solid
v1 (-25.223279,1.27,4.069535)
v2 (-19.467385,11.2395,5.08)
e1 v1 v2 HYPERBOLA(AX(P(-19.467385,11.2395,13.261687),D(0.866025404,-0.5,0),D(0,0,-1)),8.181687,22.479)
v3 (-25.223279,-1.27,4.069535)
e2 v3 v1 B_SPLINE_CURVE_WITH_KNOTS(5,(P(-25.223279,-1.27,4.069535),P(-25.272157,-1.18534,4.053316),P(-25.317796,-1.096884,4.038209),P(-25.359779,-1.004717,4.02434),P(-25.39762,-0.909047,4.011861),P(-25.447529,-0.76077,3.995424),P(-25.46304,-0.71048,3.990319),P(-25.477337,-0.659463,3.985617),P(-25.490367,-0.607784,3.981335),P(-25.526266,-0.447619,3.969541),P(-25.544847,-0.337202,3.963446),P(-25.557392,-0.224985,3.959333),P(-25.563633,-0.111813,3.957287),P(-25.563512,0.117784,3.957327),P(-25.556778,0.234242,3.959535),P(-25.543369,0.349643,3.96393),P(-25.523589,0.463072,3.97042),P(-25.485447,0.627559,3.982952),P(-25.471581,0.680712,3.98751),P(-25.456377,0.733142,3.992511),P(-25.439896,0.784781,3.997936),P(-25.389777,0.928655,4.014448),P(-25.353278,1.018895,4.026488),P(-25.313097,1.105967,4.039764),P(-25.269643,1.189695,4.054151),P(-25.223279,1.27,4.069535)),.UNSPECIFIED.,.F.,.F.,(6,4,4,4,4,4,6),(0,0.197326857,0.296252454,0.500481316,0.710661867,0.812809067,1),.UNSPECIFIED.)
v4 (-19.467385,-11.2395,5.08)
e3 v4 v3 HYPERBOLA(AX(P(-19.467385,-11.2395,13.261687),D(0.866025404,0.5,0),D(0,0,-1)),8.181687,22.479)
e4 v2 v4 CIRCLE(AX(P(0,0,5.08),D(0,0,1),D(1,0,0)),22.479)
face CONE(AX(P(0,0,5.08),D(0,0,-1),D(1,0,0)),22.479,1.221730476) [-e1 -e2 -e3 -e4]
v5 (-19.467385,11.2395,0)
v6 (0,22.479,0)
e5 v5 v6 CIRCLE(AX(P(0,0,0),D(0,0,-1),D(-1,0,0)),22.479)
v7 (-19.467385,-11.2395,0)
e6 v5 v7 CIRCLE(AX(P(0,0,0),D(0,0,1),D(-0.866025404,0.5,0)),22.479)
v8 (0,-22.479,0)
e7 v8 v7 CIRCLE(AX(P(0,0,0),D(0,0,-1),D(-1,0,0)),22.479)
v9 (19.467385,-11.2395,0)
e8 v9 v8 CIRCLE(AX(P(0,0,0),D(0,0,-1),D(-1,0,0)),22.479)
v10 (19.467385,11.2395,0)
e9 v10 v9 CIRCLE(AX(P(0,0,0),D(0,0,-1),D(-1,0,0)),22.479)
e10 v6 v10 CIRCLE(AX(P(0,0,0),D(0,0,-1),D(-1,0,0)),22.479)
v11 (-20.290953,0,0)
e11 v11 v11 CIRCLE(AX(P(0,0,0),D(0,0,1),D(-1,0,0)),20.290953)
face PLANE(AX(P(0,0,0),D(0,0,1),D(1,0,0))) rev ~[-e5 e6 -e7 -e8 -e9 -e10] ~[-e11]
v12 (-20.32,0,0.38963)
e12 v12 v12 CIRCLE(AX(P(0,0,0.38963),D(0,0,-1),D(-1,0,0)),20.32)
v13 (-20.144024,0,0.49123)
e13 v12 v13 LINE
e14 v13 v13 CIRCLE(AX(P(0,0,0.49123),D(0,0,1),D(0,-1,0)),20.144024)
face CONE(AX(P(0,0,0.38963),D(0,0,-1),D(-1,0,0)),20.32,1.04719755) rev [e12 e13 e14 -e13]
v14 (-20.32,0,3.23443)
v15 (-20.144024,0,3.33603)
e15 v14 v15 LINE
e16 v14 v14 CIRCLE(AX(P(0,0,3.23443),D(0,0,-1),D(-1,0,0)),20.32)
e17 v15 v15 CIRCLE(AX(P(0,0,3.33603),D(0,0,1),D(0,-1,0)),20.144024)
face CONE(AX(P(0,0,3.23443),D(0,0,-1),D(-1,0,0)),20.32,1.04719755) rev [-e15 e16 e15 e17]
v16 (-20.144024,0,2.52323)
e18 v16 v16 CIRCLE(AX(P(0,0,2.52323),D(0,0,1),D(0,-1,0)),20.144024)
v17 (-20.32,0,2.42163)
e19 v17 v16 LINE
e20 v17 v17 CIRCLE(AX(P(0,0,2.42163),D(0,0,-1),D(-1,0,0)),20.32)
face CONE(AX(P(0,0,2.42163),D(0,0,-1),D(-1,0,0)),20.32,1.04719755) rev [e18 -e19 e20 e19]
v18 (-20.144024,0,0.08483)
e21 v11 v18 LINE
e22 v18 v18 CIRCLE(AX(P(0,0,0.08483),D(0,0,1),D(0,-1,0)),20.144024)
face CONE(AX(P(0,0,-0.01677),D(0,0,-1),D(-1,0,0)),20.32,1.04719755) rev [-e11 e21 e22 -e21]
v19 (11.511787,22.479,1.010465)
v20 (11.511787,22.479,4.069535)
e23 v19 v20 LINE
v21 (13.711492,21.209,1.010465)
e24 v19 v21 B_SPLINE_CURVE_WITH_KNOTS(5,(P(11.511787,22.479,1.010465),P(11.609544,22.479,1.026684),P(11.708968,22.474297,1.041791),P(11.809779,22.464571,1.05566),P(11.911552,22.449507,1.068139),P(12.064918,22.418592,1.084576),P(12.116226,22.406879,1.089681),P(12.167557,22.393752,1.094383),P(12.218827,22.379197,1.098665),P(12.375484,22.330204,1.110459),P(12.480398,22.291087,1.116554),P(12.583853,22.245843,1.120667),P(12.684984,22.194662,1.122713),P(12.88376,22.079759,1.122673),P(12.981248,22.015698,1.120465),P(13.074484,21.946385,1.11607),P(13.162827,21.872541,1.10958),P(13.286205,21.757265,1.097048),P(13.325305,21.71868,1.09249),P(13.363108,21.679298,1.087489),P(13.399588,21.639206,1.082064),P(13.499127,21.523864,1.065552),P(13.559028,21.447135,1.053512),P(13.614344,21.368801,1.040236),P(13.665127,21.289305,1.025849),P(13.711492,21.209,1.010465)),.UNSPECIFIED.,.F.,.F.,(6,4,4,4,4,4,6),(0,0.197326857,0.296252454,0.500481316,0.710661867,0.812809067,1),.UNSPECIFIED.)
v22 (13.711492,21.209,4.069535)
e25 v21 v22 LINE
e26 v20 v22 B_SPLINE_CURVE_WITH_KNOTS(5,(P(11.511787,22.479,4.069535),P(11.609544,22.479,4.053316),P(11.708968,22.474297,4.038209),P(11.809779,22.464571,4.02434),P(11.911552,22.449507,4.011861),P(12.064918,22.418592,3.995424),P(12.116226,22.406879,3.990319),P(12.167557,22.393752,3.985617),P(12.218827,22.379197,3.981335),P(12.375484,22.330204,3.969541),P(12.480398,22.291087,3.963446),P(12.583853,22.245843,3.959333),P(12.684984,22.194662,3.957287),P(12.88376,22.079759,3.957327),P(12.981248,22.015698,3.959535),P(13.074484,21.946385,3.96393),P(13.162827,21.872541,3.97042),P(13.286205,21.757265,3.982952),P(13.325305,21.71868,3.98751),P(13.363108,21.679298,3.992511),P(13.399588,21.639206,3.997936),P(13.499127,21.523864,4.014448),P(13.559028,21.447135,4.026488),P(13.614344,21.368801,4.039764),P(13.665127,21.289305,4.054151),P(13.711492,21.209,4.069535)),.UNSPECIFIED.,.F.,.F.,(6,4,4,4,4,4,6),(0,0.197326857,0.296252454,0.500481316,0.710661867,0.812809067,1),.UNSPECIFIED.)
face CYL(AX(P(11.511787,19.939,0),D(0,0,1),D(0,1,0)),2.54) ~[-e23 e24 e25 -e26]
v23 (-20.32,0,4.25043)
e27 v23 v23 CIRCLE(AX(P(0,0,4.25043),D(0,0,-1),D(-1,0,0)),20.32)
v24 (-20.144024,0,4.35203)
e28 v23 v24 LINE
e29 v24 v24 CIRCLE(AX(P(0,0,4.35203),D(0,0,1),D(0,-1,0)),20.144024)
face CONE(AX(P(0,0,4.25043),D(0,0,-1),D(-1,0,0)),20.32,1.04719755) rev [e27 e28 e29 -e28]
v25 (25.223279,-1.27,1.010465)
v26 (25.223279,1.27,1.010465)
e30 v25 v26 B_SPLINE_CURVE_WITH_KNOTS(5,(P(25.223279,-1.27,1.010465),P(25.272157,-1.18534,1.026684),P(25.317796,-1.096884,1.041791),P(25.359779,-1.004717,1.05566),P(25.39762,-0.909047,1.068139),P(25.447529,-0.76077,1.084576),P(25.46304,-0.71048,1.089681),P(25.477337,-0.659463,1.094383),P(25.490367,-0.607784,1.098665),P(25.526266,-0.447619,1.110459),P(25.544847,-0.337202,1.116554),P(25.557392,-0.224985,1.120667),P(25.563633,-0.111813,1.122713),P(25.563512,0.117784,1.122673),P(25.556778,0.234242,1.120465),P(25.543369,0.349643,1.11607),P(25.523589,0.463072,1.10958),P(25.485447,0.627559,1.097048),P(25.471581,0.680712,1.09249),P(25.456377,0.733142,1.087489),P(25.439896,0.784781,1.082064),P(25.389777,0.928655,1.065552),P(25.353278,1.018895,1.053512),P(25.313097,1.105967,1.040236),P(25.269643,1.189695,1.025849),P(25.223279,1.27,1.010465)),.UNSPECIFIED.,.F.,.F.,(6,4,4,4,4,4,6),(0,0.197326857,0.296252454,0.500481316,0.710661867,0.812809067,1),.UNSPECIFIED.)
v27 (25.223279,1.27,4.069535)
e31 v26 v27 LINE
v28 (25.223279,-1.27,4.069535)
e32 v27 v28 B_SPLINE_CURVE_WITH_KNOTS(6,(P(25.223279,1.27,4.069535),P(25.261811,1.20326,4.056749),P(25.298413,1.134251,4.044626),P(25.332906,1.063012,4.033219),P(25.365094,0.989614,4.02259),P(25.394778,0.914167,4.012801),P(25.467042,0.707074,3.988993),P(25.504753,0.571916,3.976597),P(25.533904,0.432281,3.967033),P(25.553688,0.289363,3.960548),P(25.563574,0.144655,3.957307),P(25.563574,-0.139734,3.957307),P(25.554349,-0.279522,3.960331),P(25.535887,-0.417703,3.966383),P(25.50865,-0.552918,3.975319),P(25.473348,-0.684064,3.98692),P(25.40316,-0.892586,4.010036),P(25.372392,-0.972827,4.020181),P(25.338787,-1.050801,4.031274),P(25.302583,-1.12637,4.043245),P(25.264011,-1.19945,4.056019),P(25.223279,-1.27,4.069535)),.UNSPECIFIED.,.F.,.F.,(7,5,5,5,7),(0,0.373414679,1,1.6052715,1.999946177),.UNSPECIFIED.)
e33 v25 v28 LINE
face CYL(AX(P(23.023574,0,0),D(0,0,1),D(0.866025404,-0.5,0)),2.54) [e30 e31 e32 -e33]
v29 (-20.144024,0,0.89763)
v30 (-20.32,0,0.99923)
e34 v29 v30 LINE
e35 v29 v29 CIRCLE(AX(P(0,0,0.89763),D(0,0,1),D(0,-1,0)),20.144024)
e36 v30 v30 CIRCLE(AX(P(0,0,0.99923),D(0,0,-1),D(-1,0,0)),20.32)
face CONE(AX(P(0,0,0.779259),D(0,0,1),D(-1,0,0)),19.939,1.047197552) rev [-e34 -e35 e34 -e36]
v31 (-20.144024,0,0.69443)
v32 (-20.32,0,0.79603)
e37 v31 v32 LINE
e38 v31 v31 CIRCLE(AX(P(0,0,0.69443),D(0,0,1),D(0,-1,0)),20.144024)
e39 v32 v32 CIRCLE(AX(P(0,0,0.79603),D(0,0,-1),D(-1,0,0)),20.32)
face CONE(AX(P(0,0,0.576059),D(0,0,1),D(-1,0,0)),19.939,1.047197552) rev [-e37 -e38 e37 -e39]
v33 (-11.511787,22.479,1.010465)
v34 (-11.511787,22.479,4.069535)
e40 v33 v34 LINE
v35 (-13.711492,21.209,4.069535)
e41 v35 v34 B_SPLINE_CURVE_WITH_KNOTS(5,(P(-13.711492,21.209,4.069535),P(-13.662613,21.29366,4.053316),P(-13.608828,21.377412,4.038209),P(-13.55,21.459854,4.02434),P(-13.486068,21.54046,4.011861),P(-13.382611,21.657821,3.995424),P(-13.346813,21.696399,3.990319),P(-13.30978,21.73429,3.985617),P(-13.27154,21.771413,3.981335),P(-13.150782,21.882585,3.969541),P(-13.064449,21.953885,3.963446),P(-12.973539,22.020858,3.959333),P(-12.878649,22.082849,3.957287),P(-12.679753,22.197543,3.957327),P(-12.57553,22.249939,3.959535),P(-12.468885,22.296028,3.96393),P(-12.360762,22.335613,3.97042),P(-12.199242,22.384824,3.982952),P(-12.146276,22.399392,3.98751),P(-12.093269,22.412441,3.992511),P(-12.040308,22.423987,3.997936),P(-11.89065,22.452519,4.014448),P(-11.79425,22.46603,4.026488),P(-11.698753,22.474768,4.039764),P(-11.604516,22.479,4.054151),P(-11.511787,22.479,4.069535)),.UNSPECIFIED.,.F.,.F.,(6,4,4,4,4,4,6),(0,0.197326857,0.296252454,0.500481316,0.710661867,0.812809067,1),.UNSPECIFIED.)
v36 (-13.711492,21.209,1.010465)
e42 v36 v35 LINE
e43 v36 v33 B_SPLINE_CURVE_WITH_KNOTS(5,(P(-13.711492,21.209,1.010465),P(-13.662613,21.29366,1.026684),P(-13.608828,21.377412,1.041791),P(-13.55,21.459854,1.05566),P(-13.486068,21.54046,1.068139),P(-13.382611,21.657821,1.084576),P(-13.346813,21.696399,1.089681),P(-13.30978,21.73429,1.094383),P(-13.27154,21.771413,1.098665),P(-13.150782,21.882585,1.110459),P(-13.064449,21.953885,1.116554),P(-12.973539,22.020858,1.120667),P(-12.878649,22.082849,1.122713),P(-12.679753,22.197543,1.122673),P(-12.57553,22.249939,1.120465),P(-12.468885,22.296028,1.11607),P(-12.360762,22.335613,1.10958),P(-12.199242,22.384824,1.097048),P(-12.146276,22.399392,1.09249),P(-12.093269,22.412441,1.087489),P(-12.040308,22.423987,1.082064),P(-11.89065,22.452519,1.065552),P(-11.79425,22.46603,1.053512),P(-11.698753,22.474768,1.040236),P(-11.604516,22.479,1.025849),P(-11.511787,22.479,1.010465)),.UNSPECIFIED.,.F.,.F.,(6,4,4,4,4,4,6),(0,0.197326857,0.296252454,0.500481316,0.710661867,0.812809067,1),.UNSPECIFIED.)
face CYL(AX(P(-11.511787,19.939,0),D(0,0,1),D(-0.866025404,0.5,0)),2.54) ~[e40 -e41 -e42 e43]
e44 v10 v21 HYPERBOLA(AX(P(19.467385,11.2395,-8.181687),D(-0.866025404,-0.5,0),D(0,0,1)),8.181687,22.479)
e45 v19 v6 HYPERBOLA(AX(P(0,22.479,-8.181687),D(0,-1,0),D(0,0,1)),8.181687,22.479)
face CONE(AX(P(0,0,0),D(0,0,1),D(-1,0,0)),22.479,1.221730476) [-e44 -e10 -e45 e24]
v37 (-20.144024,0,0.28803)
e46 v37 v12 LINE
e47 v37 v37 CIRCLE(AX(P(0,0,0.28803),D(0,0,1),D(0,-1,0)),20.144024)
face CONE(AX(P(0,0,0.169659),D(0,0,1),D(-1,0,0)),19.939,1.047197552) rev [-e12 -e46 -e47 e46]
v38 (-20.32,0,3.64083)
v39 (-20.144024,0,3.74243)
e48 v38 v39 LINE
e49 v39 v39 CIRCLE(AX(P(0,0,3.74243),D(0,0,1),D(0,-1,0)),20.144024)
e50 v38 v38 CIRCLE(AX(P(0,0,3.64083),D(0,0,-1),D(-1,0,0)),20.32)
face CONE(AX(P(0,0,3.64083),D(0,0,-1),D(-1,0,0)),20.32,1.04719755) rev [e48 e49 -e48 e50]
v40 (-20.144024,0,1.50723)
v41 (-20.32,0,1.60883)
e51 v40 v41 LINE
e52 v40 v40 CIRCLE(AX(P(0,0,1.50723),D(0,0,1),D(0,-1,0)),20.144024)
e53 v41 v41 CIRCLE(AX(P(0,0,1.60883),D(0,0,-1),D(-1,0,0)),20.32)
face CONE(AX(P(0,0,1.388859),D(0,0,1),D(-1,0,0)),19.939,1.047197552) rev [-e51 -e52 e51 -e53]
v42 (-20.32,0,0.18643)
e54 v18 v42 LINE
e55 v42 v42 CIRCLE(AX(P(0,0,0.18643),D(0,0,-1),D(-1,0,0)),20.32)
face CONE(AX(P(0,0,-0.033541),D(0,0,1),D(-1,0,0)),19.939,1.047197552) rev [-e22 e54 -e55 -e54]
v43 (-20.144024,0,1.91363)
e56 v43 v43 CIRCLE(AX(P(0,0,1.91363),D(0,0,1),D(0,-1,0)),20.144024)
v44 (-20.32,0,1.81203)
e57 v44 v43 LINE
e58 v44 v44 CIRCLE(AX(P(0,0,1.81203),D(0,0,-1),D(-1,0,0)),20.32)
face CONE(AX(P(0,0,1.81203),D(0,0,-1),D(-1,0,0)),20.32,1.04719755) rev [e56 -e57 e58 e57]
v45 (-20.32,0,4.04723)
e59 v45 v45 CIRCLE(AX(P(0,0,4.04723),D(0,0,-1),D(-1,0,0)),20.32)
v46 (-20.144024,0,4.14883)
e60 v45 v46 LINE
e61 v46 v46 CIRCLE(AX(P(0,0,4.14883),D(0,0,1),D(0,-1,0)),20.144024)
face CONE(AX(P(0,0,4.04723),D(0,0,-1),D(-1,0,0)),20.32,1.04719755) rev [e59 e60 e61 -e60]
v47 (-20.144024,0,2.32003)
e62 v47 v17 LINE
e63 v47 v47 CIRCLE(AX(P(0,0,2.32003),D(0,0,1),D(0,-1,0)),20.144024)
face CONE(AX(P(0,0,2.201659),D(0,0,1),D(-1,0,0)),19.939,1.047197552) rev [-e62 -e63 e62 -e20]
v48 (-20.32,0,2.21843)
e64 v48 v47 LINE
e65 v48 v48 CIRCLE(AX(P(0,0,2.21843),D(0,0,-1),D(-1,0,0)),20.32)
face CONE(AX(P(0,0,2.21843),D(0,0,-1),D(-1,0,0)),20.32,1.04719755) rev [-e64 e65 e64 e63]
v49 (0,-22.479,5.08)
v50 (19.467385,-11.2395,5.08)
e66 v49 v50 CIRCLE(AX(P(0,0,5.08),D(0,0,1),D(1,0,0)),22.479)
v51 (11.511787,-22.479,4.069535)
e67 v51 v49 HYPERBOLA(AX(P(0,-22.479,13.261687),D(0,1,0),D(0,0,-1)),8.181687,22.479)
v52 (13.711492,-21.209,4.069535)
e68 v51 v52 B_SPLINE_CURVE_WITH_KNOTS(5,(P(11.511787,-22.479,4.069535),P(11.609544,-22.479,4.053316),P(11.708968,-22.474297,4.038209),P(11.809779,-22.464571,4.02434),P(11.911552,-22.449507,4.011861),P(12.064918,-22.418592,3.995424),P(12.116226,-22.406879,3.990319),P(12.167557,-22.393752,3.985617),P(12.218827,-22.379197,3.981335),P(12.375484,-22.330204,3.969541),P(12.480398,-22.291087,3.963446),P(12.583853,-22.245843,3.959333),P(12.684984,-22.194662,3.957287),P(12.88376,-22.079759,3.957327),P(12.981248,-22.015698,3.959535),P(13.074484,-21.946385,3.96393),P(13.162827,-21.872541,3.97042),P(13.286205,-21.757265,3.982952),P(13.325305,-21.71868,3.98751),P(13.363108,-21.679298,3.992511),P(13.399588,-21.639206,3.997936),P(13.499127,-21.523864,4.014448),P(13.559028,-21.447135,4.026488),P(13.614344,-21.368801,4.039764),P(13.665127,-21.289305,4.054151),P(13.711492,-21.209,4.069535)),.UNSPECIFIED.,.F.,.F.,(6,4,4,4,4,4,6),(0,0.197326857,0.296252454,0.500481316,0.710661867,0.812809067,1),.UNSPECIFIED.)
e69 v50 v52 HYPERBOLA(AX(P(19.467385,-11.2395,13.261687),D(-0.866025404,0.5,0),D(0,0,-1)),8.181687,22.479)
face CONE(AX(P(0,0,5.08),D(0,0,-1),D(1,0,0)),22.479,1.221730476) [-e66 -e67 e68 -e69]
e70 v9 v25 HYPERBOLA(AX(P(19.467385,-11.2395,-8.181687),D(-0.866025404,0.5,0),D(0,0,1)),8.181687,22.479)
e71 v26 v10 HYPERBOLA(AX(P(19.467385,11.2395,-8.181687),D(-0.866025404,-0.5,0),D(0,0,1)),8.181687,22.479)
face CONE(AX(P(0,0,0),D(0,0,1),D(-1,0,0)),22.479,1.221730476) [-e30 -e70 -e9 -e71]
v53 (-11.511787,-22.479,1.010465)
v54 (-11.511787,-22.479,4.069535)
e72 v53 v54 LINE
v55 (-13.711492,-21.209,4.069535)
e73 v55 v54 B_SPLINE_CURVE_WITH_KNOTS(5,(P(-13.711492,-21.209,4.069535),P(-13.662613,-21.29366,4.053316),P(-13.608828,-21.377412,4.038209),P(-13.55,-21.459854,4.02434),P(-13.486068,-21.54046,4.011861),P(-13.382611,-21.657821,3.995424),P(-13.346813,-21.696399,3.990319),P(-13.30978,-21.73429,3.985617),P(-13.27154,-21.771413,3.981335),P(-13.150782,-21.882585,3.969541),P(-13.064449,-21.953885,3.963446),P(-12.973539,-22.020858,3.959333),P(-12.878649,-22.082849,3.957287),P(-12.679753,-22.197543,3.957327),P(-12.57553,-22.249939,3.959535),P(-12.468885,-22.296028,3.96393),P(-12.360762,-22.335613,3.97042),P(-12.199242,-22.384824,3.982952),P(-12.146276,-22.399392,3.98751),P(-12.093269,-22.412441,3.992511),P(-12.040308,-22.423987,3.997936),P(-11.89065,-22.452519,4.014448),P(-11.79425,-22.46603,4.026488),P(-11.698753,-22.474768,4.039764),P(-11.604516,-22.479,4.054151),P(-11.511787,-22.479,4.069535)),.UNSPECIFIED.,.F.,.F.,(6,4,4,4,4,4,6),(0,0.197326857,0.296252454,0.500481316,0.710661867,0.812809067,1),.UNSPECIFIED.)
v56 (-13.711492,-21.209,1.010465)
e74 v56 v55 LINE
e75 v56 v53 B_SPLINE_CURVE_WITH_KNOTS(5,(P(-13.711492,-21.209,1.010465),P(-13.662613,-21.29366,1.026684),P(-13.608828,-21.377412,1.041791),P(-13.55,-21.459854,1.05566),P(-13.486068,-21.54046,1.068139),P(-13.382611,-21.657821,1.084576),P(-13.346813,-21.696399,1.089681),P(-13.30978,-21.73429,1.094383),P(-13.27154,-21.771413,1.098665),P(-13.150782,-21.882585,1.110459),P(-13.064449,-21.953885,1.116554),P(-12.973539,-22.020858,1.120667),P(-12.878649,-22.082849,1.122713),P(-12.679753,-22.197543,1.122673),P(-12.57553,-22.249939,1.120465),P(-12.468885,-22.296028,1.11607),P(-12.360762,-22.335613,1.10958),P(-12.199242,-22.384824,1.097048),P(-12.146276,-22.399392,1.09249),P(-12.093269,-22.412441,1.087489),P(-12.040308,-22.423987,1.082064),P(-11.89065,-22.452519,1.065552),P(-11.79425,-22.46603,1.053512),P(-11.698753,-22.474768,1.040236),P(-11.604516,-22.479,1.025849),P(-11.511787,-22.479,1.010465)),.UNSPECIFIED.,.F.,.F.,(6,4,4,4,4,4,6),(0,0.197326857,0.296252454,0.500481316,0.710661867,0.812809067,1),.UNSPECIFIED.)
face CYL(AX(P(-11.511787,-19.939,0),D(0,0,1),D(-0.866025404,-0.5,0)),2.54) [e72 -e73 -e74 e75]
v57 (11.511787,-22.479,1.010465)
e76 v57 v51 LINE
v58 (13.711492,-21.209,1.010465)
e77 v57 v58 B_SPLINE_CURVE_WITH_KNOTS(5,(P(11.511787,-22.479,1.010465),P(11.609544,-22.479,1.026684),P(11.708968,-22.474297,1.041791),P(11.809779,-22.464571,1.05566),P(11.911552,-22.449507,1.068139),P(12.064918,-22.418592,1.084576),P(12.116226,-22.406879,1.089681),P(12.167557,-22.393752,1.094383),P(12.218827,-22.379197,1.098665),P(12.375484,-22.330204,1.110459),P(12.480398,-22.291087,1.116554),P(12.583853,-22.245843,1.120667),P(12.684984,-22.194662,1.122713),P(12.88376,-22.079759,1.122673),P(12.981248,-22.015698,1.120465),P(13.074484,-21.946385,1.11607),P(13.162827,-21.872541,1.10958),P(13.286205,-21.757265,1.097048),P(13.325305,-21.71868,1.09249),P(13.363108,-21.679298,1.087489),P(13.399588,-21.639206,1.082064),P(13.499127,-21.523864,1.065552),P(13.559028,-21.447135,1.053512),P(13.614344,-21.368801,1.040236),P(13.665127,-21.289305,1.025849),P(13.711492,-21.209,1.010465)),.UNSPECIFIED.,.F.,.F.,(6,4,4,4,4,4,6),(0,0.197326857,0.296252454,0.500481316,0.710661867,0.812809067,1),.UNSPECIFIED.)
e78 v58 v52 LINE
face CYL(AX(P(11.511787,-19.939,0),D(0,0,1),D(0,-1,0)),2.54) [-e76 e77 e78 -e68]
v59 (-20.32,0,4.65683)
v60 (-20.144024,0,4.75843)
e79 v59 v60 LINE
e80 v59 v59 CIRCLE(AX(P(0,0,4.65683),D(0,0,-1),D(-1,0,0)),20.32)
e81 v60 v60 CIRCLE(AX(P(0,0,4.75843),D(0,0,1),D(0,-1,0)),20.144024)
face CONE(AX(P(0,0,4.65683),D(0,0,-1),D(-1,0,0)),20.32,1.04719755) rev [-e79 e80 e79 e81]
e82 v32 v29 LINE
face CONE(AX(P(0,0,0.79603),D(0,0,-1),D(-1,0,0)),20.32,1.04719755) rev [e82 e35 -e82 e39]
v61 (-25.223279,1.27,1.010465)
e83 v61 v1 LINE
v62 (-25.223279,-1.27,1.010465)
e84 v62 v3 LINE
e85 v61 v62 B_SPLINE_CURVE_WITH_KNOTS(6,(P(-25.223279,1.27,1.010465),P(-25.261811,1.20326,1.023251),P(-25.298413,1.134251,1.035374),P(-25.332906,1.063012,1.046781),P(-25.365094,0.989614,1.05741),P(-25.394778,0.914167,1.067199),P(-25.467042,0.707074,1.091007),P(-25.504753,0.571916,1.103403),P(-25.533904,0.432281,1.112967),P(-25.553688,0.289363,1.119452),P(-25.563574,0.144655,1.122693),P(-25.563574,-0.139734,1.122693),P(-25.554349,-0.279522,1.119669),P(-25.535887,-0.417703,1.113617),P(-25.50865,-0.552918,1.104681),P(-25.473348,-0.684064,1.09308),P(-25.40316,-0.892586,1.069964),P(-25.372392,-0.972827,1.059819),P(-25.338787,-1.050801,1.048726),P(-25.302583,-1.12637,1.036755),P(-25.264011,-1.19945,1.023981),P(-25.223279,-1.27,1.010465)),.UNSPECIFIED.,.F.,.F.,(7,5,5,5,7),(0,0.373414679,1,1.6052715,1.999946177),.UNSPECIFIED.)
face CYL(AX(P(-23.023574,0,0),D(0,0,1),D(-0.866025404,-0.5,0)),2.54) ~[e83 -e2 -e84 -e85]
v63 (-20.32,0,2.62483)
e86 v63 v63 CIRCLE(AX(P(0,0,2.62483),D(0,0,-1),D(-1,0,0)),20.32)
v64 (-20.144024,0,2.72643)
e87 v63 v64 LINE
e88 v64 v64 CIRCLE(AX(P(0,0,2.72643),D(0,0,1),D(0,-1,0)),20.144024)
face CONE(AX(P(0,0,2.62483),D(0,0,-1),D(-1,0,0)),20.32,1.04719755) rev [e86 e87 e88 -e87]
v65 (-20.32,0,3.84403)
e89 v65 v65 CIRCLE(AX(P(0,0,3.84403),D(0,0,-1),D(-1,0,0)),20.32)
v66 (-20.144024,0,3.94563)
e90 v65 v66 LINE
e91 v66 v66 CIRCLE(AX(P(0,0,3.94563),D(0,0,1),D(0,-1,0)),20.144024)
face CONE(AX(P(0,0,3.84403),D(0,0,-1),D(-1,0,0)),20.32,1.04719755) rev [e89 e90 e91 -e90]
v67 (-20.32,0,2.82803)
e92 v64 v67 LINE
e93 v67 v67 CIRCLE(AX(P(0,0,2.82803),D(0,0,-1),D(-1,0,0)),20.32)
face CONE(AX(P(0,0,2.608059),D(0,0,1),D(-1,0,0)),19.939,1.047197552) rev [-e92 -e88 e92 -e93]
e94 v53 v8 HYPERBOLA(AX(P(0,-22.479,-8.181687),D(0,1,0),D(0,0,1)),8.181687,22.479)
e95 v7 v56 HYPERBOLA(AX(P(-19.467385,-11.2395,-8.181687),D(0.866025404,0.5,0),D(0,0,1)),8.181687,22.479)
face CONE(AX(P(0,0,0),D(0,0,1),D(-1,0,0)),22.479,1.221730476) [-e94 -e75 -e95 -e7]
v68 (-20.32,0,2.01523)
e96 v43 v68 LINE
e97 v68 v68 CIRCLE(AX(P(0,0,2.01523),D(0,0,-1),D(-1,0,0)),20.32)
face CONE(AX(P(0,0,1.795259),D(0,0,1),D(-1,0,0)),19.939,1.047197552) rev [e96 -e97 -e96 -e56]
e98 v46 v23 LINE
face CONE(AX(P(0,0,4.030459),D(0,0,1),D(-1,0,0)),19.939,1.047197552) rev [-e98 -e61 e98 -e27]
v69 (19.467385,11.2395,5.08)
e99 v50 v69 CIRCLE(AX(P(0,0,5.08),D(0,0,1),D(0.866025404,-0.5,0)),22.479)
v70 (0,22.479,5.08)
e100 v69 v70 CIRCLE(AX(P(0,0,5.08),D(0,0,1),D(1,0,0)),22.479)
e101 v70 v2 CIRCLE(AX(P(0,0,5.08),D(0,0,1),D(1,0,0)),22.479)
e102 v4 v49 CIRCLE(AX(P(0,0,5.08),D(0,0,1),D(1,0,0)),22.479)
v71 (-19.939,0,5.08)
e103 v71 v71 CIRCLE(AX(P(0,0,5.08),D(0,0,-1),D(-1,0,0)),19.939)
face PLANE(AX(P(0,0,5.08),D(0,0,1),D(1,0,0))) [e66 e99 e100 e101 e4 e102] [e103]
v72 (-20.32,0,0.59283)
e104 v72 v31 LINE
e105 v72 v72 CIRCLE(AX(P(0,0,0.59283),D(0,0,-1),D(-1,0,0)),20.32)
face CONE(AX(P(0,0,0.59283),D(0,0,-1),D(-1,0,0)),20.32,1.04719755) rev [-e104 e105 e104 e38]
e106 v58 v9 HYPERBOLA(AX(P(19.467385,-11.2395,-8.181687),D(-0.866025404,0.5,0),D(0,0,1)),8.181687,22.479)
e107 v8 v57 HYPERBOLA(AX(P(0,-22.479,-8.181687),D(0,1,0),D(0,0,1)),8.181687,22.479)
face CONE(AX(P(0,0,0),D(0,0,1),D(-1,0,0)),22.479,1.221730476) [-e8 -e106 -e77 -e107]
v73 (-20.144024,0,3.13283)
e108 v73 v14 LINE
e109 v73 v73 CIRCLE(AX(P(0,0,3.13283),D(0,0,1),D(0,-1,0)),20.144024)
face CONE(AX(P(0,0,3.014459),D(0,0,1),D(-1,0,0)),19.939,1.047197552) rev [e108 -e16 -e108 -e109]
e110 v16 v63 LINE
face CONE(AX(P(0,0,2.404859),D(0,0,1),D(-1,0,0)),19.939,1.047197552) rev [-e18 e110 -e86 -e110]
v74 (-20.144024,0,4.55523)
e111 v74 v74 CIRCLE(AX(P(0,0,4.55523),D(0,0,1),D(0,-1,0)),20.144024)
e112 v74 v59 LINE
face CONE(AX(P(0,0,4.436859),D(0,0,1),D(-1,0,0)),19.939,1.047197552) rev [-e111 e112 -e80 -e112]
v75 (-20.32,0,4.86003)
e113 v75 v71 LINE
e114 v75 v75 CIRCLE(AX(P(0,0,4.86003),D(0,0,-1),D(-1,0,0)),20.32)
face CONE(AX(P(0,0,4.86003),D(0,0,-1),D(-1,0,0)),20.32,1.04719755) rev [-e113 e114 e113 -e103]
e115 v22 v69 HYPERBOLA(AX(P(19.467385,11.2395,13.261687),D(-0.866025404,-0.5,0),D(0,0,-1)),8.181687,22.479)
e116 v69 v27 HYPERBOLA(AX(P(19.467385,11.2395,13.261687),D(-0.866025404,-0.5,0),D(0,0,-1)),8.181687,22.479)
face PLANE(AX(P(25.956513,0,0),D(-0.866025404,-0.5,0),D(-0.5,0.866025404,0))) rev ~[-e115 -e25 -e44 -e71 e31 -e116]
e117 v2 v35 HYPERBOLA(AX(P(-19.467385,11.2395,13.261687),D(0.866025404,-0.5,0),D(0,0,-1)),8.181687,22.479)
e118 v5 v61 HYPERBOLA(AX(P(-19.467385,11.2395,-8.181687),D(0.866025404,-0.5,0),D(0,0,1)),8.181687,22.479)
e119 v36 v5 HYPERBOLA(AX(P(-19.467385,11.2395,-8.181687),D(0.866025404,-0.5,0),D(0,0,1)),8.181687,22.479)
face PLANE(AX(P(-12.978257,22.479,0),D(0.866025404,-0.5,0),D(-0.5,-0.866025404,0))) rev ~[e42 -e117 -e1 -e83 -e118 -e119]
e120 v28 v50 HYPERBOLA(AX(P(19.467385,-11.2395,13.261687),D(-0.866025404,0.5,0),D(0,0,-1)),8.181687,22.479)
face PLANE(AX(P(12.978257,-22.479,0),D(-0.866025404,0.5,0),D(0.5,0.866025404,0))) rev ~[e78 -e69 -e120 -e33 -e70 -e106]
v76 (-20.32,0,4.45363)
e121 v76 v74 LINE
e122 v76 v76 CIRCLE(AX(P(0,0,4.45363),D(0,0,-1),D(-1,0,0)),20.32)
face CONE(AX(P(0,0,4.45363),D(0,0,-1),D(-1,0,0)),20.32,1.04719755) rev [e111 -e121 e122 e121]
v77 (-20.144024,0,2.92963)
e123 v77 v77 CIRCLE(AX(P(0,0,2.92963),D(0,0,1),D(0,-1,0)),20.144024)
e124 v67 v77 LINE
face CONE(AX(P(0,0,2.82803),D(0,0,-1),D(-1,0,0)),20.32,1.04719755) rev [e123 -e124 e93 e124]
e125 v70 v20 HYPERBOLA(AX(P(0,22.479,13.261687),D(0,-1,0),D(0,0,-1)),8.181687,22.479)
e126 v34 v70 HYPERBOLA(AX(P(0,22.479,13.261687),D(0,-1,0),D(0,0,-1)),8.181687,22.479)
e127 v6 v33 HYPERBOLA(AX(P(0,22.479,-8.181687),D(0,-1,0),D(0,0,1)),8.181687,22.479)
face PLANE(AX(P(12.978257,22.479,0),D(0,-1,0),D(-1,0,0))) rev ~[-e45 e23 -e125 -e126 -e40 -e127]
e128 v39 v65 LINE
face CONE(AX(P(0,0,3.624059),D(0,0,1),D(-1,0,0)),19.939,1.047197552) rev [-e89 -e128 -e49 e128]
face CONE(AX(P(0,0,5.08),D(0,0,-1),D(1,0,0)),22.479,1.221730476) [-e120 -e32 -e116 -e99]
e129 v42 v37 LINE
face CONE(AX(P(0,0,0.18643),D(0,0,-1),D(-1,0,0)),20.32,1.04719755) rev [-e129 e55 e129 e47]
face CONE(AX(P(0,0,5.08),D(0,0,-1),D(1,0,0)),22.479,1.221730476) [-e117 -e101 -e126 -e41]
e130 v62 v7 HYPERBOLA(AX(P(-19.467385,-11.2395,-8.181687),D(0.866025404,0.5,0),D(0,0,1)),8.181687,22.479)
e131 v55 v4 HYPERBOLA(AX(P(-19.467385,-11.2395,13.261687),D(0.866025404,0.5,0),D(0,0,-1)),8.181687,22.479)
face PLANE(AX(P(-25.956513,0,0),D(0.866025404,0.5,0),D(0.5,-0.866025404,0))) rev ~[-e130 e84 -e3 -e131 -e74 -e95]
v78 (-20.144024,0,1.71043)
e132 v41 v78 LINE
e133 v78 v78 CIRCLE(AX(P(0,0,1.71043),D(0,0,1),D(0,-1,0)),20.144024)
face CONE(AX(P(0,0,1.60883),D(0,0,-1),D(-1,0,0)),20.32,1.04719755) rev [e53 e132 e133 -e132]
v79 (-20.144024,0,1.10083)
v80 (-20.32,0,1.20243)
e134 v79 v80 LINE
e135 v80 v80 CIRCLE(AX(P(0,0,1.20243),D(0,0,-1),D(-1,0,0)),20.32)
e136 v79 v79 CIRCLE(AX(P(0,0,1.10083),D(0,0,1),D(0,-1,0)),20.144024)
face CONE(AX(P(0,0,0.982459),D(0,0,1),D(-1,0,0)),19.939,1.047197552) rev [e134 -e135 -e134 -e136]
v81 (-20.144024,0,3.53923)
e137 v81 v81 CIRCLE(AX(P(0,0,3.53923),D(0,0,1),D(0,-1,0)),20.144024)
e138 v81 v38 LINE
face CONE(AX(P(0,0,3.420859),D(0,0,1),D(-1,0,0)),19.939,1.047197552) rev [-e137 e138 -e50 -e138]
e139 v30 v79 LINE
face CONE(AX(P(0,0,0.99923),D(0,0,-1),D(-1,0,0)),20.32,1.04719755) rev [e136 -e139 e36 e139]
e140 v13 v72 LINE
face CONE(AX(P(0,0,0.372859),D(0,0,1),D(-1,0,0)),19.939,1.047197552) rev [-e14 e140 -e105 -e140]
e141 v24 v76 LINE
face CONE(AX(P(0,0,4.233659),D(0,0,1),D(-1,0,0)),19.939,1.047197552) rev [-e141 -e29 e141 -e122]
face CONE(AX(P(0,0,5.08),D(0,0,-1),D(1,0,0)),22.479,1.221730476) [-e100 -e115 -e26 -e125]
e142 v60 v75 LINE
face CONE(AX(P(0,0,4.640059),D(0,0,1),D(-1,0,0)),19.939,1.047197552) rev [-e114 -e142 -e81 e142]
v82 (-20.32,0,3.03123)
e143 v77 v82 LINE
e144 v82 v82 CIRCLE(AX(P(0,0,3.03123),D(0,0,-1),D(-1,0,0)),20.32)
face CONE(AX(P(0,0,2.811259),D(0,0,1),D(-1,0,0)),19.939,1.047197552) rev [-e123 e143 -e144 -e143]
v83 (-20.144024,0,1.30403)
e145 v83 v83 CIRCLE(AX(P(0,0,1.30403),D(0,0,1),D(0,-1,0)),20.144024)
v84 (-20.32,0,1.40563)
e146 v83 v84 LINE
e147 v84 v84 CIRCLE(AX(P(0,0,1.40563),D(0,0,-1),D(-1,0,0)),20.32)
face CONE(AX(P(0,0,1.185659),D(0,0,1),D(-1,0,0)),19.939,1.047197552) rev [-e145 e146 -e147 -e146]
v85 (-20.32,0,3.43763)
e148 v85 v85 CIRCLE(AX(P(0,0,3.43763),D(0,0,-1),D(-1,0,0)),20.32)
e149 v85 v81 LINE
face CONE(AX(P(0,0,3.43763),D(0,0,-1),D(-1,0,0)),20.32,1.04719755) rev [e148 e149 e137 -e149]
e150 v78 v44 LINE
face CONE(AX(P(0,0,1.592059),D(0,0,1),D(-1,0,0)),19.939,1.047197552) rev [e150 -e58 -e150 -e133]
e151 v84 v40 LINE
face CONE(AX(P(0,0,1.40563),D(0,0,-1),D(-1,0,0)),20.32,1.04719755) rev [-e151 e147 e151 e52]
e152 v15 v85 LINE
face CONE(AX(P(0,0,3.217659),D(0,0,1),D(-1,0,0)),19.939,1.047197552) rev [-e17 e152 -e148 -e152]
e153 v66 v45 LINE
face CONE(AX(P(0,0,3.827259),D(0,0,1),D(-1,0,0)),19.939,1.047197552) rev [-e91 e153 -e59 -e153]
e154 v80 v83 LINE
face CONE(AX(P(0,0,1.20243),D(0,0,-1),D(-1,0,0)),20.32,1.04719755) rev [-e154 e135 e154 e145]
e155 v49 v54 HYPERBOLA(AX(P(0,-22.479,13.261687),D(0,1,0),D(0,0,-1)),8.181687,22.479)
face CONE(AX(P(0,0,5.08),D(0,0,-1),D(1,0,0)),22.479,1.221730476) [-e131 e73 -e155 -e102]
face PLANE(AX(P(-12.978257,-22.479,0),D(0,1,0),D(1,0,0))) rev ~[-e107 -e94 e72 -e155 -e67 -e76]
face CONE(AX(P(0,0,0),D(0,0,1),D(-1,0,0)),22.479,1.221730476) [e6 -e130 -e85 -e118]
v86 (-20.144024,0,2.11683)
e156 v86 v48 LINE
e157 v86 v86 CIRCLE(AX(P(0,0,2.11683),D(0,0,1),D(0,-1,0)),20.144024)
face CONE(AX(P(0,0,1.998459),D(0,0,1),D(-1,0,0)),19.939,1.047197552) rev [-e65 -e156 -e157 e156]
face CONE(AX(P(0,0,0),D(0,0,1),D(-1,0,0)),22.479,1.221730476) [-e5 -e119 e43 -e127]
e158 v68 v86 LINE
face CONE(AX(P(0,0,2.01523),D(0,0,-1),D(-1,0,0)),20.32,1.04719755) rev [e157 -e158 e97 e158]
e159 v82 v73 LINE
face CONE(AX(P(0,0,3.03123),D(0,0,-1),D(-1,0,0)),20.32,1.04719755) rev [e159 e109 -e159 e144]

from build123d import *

# Parameters (mm, degrees)
SKETCH1_R          = 19.939
EXTRUDE1_DEPTH     = 5.08
FILLET1_R          = 2.54
SKETCH2_OUTSIDE_W  = 100.192
SKETCH2_OUTSIDE_H  = 94.022
SKETCH2_OUTSIDE_R  = 22.479
CUT_EXTRUDE1_DEPTH = 6.08
CUT_EXTRUDE1_DRAFT = -70
SKETCH3_OUTSIDE_W  = 100.192
SKETCH3_OUTSIDE_H  = 94.022
SKETCH3_OUTSIDE_R  = 22.479
CUT_EXTRUDE2_DEPTH = 6.0800001
CUT_EXTRUDE2_DRAFT = -70
LPATTERN1_COUNT    = 25
LPATTERN1_PITCH    = 0.2032


with BuildPart() as part:
    # Sketch1 → Extrude1 (new body)
    with BuildSketch(Plane.XY):
        Polygon((-25.956513402, 0), (-12.978256701, -22.479), (12.978256701, -22.479), (25.956513402, 0), (12.978256701, 22.479), (-12.978256701, 22.479), align=None)
        Circle(SKETCH1_R, mode=Mode.SUBTRACT)
    extrude(amount=EXTRUDE1_DEPTH)

    # Fillet1
    fillet1_edges = [part.edges().sort_by_distance(p)[0] for p in [
        (25.956513402, 0, 2.54),
        (12.978256701, -22.479, 2.54),
        (-12.978256701, -22.479, 2.54),
        (-25.956513402, 0, 2.54),
        (-12.978256701, 22.479, 2.54),
        (12.978256701, 22.479, 2.54),
    ]]
    fillet(fillet1_edges, radius=FILLET1_R)


with BuildPart() as cut_extrude1_tool:
    # Sketch2 outside → Cut-Extrude1 (with draft: the straight prism first)
    with BuildSketch(Plane.XY.offset(5.08)):
        Rectangle(SKETCH2_OUTSIDE_W, SKETCH2_OUTSIDE_H)
        Circle(SKETCH2_OUTSIDE_R, mode=Mode.SUBTRACT)
    extrude(amount=-CUT_EXTRUDE1_DEPTH)
    # Cut-Extrude1: the draft: its side faces are tilted about the plane it starts from
    cut_extrude1_sides = [cut_extrude1_tool.faces().sort_by_distance(p)[0] for p in [
        (0, -47.011, 2.04),
        (50.096, 0, 2.04),
        (0, 47.011, 2.04),
        (-50.096, 0, 2.04),
        (-22.479, 0, 2.04),
    ]]
    draft(cut_extrude1_sides, Plane.XY.offset(5.08), CUT_EXTRUDE1_DRAFT)


with BuildPart() as part_1:
    add(part.part)

    # Cut-Extrude1: cut by cut_extrude1_tool
    add(cut_extrude1_tool.part, mode=Mode.SUBTRACT)


with BuildPart() as cut_extrude2_tool:
    # Sketch3 outside → Cut-Extrude2 (with draft: the straight prism first)
    with BuildSketch(Plane(origin=(0, 0, 0), x_dir=(-1, 0, 0), z_dir=(0, 0, -1))):
        Rectangle(SKETCH3_OUTSIDE_W, SKETCH3_OUTSIDE_H)
        Circle(SKETCH3_OUTSIDE_R, mode=Mode.SUBTRACT)
    extrude(amount=-CUT_EXTRUDE2_DEPTH)
    # Cut-Extrude2: the draft: its side faces are tilted about the plane it starts from
    cut_extrude2_sides = [cut_extrude2_tool.faces().sort_by_distance(p)[0] for p in [
        (0, -47.011, 3.04000005),
        (-50.096, 0, 3.04000005),
        (0, 47.011, 3.04000005),
        (50.096, 0, 3.04000005),
        (22.479, 0, 3.04000005),
    ]]
    draft(cut_extrude2_sides, Plane(origin=(0, 0, 0), x_dir=(-1, 0, 0), z_dir=(0, 0, -1)), CUT_EXTRUDE2_DRAFT)


with BuildPart() as part_2:
    add(part_1.part)

    # Cut-Extrude2: cut by cut_extrude2_tool
    add(cut_extrude2_tool.part, mode=Mode.SUBTRACT)

    # Sketch4 → Cut-Revolve1 (revolve, cut)
    with BuildSketch(Plane(origin=(0, 0, 0), x_dir=(1, 0, 0), z_dir=(0, 1, 0))):
        Polygon((-19.939, -5.08), (-19.939, -4.640059095), (-20.32, -4.860029547), align=None)
    cut_revolve1 = revolve(axis=Axis((0, 0, 5.08), (0, 0, -1)), mode=Mode.SUBTRACT)

    # LPattern1: Cut-Revolve1 ×25
    with Locations(*[(0, 0, -i * LPATTERN1_PITCH) for i in range(1, LPATTERN1_COUNT)]):
        add(cut_revolve1, mode=Mode.SUBTRACT)


solid = part_2.part
